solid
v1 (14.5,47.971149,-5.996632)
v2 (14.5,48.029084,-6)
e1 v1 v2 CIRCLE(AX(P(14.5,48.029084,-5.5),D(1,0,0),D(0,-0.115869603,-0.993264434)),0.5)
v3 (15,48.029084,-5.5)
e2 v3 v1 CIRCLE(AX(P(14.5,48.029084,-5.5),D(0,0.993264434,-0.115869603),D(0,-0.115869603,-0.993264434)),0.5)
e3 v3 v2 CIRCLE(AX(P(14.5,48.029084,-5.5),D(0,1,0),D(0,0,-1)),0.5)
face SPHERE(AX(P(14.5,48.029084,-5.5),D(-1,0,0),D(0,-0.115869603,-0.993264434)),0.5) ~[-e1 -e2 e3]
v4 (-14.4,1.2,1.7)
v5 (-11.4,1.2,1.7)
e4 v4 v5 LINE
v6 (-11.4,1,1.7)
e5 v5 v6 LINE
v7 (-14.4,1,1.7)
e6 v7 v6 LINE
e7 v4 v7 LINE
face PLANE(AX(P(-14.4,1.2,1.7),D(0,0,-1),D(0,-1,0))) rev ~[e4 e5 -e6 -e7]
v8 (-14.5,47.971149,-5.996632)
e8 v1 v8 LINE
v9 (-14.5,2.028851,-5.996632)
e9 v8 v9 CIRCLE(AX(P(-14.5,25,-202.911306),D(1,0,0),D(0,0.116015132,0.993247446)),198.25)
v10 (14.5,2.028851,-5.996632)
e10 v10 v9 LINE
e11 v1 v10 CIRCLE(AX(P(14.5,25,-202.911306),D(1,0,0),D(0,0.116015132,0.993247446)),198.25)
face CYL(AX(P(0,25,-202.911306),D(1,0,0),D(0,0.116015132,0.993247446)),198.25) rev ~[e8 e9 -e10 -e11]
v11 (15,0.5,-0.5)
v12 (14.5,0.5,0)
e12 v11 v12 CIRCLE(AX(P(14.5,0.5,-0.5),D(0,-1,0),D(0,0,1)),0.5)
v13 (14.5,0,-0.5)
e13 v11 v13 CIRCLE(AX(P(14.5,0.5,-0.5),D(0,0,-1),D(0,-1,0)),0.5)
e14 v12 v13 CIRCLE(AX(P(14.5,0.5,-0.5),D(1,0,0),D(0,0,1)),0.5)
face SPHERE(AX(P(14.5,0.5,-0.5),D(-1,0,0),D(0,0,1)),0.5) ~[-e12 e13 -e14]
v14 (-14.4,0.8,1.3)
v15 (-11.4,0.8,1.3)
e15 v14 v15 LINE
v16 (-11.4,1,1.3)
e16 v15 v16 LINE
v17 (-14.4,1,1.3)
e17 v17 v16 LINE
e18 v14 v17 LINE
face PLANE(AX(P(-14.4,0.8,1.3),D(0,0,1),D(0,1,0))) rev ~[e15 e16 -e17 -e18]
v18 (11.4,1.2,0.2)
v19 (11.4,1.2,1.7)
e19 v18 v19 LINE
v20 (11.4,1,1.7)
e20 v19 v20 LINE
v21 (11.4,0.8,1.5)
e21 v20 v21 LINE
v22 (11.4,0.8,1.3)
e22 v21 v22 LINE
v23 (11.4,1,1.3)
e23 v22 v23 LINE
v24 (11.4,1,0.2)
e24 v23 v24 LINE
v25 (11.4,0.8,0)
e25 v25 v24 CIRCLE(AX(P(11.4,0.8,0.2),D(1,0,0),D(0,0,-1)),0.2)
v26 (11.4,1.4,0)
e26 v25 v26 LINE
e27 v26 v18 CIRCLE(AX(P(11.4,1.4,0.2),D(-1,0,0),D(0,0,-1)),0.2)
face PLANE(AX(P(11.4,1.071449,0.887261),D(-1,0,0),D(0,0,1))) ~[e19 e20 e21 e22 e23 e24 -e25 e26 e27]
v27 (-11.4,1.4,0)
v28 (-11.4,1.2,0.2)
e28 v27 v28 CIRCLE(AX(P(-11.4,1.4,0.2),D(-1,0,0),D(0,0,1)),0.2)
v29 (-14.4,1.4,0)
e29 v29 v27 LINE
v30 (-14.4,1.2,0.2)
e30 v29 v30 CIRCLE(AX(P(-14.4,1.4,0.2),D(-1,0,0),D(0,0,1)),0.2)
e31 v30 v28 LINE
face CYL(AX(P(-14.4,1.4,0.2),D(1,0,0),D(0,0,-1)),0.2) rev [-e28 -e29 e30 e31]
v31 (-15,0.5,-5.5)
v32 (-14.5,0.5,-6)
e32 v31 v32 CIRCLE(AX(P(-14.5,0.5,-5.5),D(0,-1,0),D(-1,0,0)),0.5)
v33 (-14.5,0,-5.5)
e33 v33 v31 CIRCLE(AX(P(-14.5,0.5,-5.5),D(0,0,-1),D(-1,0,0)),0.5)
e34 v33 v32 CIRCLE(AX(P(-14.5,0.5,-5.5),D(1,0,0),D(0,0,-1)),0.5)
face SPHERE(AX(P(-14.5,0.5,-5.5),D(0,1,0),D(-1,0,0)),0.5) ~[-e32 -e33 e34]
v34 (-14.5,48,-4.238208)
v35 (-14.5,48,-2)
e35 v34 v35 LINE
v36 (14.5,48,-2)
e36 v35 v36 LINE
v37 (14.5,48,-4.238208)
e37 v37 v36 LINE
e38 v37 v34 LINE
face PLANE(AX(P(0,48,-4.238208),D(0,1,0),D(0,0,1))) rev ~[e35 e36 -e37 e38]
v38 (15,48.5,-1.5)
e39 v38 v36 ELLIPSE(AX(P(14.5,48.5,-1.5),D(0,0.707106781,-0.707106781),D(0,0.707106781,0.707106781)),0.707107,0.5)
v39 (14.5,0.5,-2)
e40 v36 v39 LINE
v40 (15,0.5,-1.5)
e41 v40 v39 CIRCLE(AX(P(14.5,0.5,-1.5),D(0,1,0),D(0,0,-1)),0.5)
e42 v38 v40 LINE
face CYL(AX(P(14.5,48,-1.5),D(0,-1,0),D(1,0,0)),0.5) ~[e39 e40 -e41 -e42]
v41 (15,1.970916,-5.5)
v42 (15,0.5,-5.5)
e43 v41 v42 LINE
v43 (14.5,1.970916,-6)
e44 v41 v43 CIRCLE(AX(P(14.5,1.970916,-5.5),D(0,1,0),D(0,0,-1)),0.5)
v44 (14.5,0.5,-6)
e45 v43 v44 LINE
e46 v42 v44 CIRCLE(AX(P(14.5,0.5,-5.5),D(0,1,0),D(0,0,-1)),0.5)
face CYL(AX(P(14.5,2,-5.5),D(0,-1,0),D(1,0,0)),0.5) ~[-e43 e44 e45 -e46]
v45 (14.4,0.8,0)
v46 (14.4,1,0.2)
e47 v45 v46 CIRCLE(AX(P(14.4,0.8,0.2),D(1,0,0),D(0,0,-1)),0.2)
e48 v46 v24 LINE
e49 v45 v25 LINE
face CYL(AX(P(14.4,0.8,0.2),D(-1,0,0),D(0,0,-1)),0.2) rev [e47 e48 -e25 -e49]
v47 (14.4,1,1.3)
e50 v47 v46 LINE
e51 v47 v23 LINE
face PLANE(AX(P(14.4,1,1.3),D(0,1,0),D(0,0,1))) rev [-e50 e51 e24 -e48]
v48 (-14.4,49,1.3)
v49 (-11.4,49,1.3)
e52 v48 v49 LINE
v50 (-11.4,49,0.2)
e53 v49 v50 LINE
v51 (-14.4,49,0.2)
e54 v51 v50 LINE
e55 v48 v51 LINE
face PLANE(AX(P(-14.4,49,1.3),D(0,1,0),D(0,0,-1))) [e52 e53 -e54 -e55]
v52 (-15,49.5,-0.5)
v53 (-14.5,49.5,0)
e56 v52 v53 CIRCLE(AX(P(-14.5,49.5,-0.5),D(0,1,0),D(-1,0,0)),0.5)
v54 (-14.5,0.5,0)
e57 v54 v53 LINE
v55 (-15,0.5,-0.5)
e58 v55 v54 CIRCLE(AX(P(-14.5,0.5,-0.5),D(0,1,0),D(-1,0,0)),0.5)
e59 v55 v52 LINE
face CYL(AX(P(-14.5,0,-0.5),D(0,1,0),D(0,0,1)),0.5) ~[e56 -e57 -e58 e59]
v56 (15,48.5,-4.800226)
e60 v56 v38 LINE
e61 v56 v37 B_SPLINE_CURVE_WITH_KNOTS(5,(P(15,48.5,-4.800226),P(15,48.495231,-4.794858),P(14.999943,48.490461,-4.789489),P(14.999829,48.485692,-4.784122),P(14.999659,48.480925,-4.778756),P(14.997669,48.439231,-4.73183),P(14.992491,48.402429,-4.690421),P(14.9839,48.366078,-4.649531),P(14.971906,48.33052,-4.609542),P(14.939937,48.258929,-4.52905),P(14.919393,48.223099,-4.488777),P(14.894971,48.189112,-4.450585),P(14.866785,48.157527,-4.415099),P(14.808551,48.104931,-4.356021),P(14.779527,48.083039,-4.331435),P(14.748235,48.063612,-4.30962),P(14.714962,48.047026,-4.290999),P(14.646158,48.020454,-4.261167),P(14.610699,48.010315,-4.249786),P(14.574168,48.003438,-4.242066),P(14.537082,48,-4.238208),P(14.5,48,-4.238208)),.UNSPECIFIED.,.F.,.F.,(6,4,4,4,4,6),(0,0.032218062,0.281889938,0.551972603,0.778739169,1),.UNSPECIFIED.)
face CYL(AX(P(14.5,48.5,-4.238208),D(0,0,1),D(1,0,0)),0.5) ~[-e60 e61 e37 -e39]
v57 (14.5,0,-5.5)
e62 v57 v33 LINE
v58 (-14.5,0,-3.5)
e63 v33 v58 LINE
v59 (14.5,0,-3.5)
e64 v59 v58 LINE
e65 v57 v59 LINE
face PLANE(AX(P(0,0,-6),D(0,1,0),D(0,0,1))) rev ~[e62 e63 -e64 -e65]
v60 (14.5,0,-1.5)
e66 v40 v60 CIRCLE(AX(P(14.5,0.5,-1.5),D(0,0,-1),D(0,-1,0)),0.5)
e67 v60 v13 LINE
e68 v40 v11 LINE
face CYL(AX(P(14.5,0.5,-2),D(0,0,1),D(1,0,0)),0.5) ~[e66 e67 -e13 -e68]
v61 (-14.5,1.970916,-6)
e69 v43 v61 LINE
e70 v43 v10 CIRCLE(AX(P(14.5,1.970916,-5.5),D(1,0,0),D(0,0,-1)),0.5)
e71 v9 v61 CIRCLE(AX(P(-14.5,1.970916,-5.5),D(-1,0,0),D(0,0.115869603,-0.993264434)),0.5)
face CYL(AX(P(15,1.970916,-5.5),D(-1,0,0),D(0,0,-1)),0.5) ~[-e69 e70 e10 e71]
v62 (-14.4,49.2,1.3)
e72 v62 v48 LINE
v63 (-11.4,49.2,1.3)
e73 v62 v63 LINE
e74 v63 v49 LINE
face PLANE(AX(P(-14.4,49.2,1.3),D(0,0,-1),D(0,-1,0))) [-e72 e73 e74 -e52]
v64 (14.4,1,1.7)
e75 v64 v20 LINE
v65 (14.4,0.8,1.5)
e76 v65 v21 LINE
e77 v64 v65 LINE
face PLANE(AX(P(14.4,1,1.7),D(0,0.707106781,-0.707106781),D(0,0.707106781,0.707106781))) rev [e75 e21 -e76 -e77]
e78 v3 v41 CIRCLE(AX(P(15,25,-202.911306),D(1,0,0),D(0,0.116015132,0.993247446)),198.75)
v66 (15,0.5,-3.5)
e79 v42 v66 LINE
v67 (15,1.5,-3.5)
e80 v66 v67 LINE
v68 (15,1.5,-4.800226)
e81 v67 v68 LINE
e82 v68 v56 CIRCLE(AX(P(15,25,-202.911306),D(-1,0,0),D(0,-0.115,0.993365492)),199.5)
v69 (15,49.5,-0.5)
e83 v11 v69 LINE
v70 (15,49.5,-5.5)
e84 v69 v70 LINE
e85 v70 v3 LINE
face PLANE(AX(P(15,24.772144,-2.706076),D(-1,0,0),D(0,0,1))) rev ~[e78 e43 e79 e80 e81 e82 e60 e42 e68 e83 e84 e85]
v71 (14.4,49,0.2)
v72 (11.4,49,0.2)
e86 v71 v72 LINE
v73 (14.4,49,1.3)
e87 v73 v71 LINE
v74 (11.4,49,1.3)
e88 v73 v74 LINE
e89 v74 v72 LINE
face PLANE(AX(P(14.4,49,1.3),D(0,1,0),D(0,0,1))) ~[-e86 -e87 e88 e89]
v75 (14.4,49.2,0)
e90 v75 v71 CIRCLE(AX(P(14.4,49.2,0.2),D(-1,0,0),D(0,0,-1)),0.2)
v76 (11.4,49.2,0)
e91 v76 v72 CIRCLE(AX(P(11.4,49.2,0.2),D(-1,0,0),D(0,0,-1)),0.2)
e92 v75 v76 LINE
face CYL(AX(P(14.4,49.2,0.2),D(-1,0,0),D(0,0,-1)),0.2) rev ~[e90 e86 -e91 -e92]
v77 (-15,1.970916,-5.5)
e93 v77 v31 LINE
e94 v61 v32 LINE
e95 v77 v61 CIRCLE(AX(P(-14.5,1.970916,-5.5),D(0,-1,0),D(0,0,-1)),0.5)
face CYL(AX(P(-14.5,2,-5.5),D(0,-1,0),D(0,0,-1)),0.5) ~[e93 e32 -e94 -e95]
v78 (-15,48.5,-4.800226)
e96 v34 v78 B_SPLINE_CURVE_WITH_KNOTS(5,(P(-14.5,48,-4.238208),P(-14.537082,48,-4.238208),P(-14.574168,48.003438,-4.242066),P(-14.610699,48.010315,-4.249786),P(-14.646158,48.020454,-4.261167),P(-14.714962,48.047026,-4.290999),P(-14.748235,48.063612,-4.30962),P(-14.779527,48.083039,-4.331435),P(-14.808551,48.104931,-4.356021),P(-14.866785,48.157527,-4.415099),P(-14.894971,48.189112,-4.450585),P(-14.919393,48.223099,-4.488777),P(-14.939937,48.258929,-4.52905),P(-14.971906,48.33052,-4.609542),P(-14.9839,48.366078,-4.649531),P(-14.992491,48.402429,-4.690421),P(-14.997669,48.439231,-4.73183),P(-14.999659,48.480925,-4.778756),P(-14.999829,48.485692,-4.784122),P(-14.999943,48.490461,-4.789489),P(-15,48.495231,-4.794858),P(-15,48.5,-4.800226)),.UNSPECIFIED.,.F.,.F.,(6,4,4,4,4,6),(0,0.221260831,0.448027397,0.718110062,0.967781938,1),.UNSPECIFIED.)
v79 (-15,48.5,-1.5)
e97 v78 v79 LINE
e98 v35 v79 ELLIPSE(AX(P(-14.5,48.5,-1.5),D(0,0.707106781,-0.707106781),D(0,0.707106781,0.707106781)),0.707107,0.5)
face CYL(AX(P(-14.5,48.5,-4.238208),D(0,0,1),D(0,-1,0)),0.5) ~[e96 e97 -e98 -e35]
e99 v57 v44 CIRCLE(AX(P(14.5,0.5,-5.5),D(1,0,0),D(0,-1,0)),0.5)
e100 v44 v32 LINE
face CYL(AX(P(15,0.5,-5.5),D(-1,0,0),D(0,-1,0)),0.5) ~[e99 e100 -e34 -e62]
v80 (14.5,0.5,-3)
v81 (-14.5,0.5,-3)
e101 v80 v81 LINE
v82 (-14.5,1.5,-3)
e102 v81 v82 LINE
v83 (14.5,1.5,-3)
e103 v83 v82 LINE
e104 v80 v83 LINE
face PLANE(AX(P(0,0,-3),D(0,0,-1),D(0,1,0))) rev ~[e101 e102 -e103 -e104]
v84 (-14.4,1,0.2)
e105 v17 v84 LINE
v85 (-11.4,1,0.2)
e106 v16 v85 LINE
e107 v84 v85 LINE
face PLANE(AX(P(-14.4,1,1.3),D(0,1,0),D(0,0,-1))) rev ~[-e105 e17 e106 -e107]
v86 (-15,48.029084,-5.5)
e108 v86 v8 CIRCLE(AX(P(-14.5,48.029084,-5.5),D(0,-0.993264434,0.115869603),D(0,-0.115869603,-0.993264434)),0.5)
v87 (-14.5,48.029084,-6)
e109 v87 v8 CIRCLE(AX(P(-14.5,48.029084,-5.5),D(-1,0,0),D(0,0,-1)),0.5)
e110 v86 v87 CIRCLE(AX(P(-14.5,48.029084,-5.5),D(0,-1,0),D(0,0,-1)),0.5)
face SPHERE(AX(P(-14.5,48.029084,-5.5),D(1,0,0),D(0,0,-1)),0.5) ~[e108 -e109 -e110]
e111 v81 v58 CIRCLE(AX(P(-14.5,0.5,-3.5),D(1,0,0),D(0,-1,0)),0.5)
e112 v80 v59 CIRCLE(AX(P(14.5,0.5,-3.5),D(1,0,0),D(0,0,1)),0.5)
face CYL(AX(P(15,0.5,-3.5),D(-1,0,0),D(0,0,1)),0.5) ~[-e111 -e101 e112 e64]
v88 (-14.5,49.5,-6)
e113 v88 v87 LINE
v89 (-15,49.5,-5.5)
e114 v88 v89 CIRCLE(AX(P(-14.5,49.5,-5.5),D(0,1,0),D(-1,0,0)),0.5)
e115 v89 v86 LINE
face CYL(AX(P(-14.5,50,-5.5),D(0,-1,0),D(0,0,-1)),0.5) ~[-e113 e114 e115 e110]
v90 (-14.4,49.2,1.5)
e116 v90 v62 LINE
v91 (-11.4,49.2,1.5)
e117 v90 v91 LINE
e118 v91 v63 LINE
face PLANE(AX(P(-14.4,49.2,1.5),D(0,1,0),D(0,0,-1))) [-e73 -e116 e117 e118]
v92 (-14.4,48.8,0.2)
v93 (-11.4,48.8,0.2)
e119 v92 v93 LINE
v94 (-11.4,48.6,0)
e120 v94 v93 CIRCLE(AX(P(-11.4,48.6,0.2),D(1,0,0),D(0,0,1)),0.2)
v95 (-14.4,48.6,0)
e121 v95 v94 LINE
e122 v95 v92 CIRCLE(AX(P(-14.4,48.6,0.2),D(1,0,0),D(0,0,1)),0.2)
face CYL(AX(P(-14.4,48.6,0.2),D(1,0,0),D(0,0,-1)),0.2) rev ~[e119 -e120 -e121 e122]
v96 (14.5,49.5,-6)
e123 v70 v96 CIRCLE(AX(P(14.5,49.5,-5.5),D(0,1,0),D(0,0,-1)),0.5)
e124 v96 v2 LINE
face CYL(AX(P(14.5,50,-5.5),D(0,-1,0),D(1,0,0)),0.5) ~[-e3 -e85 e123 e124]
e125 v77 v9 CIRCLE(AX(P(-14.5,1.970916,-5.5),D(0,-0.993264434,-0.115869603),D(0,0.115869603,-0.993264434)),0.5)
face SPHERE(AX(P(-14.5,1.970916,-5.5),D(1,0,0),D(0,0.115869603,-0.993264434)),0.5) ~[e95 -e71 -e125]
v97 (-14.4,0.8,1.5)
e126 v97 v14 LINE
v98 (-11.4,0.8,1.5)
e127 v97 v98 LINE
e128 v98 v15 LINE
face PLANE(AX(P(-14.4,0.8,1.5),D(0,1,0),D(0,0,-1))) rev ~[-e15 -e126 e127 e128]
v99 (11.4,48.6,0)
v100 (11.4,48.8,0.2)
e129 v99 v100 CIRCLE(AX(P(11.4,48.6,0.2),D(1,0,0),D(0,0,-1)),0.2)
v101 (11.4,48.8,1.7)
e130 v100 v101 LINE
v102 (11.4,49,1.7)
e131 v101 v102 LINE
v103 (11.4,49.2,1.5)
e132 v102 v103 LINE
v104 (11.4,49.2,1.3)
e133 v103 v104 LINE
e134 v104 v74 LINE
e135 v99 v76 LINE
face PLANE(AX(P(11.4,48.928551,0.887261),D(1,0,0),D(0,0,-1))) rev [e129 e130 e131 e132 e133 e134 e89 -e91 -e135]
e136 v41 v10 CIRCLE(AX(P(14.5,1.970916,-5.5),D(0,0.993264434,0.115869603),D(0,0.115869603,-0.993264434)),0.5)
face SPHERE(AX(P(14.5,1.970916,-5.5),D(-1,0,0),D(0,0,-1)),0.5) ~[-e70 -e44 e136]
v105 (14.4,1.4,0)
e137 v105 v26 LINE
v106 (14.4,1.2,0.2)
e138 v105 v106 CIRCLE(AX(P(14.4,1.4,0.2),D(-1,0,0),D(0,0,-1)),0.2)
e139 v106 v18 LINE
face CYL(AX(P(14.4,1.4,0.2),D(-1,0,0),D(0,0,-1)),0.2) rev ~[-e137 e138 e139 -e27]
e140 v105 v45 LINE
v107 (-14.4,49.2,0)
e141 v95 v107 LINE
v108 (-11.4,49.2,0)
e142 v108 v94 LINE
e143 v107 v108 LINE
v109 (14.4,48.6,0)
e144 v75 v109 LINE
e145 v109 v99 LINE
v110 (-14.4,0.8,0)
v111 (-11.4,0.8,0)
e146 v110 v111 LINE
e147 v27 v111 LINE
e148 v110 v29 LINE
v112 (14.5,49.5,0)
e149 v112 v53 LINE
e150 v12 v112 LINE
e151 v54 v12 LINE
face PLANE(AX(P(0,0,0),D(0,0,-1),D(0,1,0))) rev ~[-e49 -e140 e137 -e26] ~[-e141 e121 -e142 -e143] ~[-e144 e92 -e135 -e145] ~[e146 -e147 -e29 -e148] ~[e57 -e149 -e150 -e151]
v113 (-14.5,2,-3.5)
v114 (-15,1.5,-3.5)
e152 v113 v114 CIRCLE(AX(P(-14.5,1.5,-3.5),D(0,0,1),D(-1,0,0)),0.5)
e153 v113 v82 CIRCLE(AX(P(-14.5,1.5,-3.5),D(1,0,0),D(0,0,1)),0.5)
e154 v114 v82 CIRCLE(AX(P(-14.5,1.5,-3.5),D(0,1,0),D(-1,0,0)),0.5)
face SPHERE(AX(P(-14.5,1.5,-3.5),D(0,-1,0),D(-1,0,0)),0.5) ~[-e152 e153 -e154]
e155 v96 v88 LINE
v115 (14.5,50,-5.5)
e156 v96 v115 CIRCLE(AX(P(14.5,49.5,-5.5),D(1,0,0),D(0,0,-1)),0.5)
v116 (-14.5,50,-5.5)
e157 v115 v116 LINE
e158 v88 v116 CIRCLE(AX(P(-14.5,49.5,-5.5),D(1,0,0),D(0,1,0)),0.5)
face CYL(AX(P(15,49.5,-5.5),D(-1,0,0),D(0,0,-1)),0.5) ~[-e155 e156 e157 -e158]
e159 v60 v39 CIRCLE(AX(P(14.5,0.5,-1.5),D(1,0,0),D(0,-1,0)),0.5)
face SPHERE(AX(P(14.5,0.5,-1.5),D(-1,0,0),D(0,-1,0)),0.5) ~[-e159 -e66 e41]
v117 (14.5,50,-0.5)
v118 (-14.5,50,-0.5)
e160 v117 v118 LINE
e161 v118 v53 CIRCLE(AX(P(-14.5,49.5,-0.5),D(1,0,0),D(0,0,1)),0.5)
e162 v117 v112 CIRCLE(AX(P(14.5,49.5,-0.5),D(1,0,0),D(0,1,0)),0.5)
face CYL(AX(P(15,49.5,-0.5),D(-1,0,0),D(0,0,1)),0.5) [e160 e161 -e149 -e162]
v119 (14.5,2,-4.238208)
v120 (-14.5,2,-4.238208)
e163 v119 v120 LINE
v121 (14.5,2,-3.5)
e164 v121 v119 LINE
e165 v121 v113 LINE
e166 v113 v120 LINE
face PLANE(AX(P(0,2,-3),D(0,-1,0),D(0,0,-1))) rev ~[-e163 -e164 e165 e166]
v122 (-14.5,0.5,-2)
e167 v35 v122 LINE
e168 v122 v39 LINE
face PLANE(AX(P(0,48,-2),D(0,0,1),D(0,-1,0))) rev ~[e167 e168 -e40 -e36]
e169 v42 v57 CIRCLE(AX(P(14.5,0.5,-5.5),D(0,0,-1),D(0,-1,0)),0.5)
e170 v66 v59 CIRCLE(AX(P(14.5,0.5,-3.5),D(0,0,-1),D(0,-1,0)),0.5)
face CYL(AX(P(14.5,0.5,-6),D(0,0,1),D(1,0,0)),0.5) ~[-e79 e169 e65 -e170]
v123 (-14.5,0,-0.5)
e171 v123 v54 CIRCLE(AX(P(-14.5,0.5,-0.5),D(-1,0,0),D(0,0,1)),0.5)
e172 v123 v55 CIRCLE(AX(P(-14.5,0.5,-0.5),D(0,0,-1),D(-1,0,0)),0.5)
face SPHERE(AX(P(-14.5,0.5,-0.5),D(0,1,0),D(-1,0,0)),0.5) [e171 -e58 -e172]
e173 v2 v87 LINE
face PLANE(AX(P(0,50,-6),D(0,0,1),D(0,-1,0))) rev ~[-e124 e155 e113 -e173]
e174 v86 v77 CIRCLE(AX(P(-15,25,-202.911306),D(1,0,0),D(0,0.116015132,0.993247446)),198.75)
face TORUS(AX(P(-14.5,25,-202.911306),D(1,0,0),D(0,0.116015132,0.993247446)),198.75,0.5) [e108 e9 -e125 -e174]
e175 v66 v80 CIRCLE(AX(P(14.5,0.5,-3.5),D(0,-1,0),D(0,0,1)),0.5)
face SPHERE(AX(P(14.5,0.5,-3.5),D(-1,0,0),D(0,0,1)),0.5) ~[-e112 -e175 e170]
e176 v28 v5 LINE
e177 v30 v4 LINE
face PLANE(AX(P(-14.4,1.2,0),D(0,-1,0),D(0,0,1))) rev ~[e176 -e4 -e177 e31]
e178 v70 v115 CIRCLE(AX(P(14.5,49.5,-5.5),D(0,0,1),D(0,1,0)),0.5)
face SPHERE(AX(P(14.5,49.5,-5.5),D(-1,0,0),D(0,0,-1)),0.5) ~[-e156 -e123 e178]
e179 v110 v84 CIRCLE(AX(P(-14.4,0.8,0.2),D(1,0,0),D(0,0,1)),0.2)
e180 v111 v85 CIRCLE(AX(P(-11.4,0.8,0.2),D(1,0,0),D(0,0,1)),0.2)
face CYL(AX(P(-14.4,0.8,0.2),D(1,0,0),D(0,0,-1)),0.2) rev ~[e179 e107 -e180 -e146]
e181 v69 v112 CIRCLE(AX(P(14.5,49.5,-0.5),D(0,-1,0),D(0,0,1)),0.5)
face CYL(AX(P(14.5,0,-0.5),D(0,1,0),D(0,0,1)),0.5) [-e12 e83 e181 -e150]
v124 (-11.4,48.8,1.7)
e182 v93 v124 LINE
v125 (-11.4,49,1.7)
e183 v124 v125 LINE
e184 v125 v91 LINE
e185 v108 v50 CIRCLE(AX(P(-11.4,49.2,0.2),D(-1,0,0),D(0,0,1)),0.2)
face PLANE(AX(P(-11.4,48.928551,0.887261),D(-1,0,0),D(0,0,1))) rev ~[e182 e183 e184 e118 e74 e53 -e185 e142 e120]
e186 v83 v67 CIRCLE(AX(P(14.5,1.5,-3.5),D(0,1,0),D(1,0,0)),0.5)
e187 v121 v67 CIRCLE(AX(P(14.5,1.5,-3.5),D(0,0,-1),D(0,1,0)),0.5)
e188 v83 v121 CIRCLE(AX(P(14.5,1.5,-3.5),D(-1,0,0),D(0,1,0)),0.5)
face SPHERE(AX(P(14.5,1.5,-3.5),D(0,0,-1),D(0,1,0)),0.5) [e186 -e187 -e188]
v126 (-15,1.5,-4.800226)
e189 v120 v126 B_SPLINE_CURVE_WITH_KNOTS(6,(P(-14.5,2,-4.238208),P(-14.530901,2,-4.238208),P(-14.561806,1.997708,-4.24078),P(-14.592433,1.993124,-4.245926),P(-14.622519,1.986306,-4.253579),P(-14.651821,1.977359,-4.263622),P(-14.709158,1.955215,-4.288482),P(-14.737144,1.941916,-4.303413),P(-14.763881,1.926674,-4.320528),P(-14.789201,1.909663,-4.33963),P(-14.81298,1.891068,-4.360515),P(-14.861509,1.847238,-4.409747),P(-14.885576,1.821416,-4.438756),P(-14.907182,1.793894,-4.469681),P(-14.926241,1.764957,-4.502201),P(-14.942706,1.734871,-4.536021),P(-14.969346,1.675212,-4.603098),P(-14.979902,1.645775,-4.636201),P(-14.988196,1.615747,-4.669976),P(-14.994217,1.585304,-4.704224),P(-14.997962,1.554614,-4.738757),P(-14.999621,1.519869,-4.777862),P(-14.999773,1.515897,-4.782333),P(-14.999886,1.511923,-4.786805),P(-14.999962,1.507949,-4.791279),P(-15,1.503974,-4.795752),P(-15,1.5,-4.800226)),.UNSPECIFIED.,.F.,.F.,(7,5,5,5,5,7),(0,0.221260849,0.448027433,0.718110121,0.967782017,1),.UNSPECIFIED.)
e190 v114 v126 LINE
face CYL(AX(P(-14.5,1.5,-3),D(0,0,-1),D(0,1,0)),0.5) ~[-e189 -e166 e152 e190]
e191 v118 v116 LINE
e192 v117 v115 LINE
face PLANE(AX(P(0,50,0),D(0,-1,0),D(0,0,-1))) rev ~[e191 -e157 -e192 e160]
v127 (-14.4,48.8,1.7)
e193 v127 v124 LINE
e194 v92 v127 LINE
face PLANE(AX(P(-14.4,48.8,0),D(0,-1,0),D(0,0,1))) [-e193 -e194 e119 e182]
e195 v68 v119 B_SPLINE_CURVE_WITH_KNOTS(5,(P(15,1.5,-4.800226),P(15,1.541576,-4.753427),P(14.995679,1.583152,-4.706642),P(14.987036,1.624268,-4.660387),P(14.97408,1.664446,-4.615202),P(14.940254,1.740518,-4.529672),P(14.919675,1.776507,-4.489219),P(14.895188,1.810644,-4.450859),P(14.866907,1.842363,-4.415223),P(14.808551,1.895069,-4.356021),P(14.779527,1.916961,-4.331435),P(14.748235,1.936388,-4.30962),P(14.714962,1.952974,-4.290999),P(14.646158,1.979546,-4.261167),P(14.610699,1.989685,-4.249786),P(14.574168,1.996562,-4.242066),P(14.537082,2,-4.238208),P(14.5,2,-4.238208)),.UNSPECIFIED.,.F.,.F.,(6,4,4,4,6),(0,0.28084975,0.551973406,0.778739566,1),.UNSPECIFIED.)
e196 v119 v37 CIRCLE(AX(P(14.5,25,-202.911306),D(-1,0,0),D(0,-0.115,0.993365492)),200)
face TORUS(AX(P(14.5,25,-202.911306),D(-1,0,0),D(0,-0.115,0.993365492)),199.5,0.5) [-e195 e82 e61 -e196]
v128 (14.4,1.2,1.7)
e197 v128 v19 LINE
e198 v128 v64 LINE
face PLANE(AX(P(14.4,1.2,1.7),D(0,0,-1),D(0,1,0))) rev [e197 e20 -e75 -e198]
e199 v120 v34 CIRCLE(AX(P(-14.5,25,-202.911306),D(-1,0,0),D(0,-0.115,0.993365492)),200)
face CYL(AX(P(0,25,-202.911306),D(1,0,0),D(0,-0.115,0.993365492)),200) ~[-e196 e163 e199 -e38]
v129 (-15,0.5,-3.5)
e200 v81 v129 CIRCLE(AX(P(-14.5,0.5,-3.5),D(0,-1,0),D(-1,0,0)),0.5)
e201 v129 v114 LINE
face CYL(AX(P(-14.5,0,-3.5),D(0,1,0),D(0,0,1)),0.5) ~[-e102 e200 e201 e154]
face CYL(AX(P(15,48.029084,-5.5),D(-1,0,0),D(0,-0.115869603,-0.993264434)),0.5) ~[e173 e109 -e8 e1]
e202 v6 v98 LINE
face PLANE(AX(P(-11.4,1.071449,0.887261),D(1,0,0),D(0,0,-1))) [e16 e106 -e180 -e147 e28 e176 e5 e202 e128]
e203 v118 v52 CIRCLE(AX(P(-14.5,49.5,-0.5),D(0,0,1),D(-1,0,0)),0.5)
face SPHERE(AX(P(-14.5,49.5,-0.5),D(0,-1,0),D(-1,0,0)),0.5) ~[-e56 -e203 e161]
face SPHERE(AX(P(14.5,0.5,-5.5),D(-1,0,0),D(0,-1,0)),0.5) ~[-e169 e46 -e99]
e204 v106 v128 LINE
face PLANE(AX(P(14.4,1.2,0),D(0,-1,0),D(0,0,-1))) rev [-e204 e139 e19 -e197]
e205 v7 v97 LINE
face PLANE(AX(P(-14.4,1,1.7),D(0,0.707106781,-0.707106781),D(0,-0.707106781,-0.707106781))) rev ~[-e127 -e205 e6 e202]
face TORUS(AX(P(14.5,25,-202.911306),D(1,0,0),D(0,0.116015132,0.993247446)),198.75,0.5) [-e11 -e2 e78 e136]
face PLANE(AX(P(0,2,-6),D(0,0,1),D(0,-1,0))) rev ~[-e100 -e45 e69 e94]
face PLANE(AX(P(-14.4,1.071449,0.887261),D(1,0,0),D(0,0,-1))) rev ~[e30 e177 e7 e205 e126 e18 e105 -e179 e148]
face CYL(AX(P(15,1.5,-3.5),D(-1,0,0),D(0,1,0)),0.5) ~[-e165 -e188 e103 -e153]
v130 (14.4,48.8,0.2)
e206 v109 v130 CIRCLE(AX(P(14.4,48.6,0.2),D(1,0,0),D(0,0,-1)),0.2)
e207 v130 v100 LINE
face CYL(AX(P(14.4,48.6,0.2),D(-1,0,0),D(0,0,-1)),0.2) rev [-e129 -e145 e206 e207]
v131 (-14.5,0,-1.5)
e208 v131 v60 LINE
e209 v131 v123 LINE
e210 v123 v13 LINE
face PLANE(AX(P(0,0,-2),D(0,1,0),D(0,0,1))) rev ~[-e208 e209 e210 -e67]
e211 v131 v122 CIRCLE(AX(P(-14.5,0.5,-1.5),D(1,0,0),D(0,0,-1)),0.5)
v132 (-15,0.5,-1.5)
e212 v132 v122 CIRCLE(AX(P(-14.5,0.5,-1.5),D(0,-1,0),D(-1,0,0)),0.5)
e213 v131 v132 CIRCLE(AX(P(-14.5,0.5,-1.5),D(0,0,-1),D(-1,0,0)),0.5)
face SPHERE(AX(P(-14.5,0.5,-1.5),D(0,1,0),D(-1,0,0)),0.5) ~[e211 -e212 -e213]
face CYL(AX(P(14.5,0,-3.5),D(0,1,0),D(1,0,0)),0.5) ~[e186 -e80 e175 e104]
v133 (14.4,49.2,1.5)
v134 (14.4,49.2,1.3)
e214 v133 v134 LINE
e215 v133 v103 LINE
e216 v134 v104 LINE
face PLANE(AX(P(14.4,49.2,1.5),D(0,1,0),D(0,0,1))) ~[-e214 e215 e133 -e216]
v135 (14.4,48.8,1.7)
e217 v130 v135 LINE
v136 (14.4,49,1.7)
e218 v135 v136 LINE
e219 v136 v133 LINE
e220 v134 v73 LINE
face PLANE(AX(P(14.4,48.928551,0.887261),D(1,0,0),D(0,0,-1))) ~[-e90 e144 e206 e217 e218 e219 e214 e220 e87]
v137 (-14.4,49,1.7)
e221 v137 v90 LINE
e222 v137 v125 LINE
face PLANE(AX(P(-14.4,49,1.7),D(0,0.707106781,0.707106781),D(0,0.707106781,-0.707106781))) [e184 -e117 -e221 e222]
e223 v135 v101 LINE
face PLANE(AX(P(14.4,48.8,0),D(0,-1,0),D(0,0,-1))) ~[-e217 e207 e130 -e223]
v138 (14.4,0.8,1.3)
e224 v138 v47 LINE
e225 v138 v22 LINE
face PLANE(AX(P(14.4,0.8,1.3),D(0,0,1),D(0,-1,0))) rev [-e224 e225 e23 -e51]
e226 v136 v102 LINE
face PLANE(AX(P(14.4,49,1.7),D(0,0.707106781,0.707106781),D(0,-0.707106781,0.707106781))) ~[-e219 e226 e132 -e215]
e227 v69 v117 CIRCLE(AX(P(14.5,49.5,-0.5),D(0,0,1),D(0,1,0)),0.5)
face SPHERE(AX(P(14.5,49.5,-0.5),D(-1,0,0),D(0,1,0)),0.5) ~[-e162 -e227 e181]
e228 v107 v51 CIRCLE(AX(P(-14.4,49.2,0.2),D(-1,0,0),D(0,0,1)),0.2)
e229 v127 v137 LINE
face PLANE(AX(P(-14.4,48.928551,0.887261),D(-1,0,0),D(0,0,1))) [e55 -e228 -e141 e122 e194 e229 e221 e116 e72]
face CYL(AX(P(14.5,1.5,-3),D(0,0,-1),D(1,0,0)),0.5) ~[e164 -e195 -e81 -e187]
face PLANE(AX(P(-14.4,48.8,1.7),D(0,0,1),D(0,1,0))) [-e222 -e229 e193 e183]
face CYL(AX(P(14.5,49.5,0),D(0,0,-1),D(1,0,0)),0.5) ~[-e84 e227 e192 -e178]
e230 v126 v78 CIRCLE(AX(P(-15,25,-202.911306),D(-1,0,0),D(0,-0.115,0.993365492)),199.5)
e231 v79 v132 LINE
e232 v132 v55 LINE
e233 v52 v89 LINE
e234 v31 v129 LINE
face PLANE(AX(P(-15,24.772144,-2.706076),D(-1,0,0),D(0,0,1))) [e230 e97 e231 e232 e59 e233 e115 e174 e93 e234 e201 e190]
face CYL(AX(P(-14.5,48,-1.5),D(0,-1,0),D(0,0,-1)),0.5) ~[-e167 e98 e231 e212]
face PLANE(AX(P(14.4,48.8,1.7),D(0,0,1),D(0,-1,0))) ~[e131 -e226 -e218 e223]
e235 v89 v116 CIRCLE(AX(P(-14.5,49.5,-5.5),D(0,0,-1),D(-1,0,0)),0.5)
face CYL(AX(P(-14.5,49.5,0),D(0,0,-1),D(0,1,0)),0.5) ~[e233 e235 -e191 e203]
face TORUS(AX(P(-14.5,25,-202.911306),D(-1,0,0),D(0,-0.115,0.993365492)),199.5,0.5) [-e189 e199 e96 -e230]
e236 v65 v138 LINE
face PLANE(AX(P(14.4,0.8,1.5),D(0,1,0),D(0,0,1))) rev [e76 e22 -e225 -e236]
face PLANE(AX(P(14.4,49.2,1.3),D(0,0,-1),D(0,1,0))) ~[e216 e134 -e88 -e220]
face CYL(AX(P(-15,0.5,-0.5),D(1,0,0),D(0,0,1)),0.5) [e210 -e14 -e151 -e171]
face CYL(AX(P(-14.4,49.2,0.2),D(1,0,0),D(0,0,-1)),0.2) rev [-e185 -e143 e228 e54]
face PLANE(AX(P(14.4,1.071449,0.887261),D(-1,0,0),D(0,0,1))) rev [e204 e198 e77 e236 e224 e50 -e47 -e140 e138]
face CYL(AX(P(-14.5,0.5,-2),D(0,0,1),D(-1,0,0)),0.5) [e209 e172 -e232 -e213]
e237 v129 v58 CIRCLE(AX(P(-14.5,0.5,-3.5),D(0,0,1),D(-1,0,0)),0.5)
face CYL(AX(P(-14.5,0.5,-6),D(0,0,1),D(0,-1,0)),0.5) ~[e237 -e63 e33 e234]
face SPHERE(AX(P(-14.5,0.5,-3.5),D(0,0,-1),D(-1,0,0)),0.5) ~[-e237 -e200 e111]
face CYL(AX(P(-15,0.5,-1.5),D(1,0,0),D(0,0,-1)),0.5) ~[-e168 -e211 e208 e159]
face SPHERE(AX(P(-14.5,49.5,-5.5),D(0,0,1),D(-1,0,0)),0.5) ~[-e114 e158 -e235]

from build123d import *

# Parameters (mm, degrees)
CLIP_BODY_DEPTH                            = 15
PRISM_START                                = -0.6
PRISM_CANTILEVER_EXTRUDE_DEPTH             = 3
PRISM_CANTILEVER_EXTRUDE_FILLET_R          = 0.2
PRISM_CANTILEVER_EXTRUDE_FILLET_OF_PRISM_R = 0.2
GLOBAL_FILLET_R                            = 0.5


with BuildPart() as part:
    # Sketch1 → Clip Body (new, symmetric)
    with BuildSketch(Plane(origin=(0, 0, 0), x_dir=(0, 0, -1), z_dir=(1, 0, 0))):
        with BuildLine():
            Line((0, 0), (0, 50))
            Line((0, 50), (6, 50))
            Line((6, 50), (6, 48))
            ThreePointArc((6, 48), (4.661306176, 25), (6, 2))
            Line((6, 2), (6, 0))
            Line((6, 0), (3, 0))
            Line((3, 0), (3, 2))
            Line((3, 2), (4.238207846, 2))
            ThreePointArc((4.238207846, 2), (2.911306176, 25), (4.238207846, 48))
            Line((4.238207846, 48), (2, 48))
            Line((2, 48), (2, 0))
            Line((2, 0), (0, 0))
        make_face()
    extrude(amount=CLIP_BODY_DEPTH, both=True)

    # Sketch9 → Prism Cantilever Extrude (add)
    with BuildSketch(Plane.ZY.offset(15).offset(PRISM_START)):
        Polygon((1.7, 48.8), (1.7, 49), (1.5, 49.2), (1.3, 49.2), (1.3, 49), (0, 49), (0, 48.8), align=None)
        Polygon((1.3, 1), (0, 1), (0, 1.2), (1.7, 1.2), (1.7, 1), (1.5, 0.8), (1.3, 0.8), align=None)
    prism_cantilever_extrude = extrude(amount=-PRISM_CANTILEVER_EXTRUDE_DEPTH)

    # Prism Cantilever Extrude Fillet
    prism_cantilever_extrude_fillet_edges = [part.edges().sort_by_distance(p)[0] for p in [
        (-12.9, 1, 0),
        (-12.9, 1.2, 0),
        (-12.9, 48.8, 0),
        (-12.9, 49, 0),
    ]]
    fillet(prism_cantilever_extrude_fillet_edges, radius=PRISM_CANTILEVER_EXTRUDE_FILLET_R)

    # Prism Cantilever Extrude Mirror: Prism Cantilever Extrude across plane
    add(prism_cantilever_extrude.mirror(Plane(origin=(0, 0, 0), x_dir=(0, 0, 1), z_dir=(1, 0, 0))))

    # Prism Cantilever Extrude Fillet of Prism
    prism_cantilever_extrude_fillet_of_prism_edges = [part.edges().sort_by_distance(p)[0] for p in [
        (12.9, 1, 0),
        (12.9, 1.2, 0),
        (12.9, 48.8, 0),
        (12.9, 49, 0),
    ]]
    fillet(prism_cantilever_extrude_fillet_of_prism_edges, radius=PRISM_CANTILEVER_EXTRUDE_FILLET_OF_PRISM_R)

    # Global Fillet
    global_fillet_edges = [part.edges().sort_by_distance(p)[0] for p in [
        (-15, 25, 0),
        (-15, 50, -3),
        (15, 48, -3.119103923),
        (-15, 49, -6),
        (-15, 25, -4.661306176),
        (-15, 1, -6),
        (-15, 0, -4.5),
        (-15, 1, -3),
        (-15, 2, -3.619103923),
        (-15, 25, -2.911306176),
        (-15, 48, -3.119103923),
        (-15, 24, -2),
        (-15, 0, -1),
        (15, 25, -2.911306176),
        (0, 0, 0),
        (0, 50, 0),
        (0, 50, -6),
        (15, 2, -3.619103923),
        (0, 48, -6),
        (0, 2, -6),
        (0, 0, -6),
        (0, 0, -3),
        (0, 2, -3),
        (0, 0, -2),
        (15, 1, -3),
        (15, 0, -4.5),
        (15, 1, -6),
        (15, 25, -4.661306176),
        (15, 49, -6),
        (15, 50, -3),
        (15, 25, 0),
        (15, 0, -1),
        (15, 24, -2),
    ]]
    fillet(global_fillet_edges, radius=GLOBAL_FILLET_R)


solid = part.part
